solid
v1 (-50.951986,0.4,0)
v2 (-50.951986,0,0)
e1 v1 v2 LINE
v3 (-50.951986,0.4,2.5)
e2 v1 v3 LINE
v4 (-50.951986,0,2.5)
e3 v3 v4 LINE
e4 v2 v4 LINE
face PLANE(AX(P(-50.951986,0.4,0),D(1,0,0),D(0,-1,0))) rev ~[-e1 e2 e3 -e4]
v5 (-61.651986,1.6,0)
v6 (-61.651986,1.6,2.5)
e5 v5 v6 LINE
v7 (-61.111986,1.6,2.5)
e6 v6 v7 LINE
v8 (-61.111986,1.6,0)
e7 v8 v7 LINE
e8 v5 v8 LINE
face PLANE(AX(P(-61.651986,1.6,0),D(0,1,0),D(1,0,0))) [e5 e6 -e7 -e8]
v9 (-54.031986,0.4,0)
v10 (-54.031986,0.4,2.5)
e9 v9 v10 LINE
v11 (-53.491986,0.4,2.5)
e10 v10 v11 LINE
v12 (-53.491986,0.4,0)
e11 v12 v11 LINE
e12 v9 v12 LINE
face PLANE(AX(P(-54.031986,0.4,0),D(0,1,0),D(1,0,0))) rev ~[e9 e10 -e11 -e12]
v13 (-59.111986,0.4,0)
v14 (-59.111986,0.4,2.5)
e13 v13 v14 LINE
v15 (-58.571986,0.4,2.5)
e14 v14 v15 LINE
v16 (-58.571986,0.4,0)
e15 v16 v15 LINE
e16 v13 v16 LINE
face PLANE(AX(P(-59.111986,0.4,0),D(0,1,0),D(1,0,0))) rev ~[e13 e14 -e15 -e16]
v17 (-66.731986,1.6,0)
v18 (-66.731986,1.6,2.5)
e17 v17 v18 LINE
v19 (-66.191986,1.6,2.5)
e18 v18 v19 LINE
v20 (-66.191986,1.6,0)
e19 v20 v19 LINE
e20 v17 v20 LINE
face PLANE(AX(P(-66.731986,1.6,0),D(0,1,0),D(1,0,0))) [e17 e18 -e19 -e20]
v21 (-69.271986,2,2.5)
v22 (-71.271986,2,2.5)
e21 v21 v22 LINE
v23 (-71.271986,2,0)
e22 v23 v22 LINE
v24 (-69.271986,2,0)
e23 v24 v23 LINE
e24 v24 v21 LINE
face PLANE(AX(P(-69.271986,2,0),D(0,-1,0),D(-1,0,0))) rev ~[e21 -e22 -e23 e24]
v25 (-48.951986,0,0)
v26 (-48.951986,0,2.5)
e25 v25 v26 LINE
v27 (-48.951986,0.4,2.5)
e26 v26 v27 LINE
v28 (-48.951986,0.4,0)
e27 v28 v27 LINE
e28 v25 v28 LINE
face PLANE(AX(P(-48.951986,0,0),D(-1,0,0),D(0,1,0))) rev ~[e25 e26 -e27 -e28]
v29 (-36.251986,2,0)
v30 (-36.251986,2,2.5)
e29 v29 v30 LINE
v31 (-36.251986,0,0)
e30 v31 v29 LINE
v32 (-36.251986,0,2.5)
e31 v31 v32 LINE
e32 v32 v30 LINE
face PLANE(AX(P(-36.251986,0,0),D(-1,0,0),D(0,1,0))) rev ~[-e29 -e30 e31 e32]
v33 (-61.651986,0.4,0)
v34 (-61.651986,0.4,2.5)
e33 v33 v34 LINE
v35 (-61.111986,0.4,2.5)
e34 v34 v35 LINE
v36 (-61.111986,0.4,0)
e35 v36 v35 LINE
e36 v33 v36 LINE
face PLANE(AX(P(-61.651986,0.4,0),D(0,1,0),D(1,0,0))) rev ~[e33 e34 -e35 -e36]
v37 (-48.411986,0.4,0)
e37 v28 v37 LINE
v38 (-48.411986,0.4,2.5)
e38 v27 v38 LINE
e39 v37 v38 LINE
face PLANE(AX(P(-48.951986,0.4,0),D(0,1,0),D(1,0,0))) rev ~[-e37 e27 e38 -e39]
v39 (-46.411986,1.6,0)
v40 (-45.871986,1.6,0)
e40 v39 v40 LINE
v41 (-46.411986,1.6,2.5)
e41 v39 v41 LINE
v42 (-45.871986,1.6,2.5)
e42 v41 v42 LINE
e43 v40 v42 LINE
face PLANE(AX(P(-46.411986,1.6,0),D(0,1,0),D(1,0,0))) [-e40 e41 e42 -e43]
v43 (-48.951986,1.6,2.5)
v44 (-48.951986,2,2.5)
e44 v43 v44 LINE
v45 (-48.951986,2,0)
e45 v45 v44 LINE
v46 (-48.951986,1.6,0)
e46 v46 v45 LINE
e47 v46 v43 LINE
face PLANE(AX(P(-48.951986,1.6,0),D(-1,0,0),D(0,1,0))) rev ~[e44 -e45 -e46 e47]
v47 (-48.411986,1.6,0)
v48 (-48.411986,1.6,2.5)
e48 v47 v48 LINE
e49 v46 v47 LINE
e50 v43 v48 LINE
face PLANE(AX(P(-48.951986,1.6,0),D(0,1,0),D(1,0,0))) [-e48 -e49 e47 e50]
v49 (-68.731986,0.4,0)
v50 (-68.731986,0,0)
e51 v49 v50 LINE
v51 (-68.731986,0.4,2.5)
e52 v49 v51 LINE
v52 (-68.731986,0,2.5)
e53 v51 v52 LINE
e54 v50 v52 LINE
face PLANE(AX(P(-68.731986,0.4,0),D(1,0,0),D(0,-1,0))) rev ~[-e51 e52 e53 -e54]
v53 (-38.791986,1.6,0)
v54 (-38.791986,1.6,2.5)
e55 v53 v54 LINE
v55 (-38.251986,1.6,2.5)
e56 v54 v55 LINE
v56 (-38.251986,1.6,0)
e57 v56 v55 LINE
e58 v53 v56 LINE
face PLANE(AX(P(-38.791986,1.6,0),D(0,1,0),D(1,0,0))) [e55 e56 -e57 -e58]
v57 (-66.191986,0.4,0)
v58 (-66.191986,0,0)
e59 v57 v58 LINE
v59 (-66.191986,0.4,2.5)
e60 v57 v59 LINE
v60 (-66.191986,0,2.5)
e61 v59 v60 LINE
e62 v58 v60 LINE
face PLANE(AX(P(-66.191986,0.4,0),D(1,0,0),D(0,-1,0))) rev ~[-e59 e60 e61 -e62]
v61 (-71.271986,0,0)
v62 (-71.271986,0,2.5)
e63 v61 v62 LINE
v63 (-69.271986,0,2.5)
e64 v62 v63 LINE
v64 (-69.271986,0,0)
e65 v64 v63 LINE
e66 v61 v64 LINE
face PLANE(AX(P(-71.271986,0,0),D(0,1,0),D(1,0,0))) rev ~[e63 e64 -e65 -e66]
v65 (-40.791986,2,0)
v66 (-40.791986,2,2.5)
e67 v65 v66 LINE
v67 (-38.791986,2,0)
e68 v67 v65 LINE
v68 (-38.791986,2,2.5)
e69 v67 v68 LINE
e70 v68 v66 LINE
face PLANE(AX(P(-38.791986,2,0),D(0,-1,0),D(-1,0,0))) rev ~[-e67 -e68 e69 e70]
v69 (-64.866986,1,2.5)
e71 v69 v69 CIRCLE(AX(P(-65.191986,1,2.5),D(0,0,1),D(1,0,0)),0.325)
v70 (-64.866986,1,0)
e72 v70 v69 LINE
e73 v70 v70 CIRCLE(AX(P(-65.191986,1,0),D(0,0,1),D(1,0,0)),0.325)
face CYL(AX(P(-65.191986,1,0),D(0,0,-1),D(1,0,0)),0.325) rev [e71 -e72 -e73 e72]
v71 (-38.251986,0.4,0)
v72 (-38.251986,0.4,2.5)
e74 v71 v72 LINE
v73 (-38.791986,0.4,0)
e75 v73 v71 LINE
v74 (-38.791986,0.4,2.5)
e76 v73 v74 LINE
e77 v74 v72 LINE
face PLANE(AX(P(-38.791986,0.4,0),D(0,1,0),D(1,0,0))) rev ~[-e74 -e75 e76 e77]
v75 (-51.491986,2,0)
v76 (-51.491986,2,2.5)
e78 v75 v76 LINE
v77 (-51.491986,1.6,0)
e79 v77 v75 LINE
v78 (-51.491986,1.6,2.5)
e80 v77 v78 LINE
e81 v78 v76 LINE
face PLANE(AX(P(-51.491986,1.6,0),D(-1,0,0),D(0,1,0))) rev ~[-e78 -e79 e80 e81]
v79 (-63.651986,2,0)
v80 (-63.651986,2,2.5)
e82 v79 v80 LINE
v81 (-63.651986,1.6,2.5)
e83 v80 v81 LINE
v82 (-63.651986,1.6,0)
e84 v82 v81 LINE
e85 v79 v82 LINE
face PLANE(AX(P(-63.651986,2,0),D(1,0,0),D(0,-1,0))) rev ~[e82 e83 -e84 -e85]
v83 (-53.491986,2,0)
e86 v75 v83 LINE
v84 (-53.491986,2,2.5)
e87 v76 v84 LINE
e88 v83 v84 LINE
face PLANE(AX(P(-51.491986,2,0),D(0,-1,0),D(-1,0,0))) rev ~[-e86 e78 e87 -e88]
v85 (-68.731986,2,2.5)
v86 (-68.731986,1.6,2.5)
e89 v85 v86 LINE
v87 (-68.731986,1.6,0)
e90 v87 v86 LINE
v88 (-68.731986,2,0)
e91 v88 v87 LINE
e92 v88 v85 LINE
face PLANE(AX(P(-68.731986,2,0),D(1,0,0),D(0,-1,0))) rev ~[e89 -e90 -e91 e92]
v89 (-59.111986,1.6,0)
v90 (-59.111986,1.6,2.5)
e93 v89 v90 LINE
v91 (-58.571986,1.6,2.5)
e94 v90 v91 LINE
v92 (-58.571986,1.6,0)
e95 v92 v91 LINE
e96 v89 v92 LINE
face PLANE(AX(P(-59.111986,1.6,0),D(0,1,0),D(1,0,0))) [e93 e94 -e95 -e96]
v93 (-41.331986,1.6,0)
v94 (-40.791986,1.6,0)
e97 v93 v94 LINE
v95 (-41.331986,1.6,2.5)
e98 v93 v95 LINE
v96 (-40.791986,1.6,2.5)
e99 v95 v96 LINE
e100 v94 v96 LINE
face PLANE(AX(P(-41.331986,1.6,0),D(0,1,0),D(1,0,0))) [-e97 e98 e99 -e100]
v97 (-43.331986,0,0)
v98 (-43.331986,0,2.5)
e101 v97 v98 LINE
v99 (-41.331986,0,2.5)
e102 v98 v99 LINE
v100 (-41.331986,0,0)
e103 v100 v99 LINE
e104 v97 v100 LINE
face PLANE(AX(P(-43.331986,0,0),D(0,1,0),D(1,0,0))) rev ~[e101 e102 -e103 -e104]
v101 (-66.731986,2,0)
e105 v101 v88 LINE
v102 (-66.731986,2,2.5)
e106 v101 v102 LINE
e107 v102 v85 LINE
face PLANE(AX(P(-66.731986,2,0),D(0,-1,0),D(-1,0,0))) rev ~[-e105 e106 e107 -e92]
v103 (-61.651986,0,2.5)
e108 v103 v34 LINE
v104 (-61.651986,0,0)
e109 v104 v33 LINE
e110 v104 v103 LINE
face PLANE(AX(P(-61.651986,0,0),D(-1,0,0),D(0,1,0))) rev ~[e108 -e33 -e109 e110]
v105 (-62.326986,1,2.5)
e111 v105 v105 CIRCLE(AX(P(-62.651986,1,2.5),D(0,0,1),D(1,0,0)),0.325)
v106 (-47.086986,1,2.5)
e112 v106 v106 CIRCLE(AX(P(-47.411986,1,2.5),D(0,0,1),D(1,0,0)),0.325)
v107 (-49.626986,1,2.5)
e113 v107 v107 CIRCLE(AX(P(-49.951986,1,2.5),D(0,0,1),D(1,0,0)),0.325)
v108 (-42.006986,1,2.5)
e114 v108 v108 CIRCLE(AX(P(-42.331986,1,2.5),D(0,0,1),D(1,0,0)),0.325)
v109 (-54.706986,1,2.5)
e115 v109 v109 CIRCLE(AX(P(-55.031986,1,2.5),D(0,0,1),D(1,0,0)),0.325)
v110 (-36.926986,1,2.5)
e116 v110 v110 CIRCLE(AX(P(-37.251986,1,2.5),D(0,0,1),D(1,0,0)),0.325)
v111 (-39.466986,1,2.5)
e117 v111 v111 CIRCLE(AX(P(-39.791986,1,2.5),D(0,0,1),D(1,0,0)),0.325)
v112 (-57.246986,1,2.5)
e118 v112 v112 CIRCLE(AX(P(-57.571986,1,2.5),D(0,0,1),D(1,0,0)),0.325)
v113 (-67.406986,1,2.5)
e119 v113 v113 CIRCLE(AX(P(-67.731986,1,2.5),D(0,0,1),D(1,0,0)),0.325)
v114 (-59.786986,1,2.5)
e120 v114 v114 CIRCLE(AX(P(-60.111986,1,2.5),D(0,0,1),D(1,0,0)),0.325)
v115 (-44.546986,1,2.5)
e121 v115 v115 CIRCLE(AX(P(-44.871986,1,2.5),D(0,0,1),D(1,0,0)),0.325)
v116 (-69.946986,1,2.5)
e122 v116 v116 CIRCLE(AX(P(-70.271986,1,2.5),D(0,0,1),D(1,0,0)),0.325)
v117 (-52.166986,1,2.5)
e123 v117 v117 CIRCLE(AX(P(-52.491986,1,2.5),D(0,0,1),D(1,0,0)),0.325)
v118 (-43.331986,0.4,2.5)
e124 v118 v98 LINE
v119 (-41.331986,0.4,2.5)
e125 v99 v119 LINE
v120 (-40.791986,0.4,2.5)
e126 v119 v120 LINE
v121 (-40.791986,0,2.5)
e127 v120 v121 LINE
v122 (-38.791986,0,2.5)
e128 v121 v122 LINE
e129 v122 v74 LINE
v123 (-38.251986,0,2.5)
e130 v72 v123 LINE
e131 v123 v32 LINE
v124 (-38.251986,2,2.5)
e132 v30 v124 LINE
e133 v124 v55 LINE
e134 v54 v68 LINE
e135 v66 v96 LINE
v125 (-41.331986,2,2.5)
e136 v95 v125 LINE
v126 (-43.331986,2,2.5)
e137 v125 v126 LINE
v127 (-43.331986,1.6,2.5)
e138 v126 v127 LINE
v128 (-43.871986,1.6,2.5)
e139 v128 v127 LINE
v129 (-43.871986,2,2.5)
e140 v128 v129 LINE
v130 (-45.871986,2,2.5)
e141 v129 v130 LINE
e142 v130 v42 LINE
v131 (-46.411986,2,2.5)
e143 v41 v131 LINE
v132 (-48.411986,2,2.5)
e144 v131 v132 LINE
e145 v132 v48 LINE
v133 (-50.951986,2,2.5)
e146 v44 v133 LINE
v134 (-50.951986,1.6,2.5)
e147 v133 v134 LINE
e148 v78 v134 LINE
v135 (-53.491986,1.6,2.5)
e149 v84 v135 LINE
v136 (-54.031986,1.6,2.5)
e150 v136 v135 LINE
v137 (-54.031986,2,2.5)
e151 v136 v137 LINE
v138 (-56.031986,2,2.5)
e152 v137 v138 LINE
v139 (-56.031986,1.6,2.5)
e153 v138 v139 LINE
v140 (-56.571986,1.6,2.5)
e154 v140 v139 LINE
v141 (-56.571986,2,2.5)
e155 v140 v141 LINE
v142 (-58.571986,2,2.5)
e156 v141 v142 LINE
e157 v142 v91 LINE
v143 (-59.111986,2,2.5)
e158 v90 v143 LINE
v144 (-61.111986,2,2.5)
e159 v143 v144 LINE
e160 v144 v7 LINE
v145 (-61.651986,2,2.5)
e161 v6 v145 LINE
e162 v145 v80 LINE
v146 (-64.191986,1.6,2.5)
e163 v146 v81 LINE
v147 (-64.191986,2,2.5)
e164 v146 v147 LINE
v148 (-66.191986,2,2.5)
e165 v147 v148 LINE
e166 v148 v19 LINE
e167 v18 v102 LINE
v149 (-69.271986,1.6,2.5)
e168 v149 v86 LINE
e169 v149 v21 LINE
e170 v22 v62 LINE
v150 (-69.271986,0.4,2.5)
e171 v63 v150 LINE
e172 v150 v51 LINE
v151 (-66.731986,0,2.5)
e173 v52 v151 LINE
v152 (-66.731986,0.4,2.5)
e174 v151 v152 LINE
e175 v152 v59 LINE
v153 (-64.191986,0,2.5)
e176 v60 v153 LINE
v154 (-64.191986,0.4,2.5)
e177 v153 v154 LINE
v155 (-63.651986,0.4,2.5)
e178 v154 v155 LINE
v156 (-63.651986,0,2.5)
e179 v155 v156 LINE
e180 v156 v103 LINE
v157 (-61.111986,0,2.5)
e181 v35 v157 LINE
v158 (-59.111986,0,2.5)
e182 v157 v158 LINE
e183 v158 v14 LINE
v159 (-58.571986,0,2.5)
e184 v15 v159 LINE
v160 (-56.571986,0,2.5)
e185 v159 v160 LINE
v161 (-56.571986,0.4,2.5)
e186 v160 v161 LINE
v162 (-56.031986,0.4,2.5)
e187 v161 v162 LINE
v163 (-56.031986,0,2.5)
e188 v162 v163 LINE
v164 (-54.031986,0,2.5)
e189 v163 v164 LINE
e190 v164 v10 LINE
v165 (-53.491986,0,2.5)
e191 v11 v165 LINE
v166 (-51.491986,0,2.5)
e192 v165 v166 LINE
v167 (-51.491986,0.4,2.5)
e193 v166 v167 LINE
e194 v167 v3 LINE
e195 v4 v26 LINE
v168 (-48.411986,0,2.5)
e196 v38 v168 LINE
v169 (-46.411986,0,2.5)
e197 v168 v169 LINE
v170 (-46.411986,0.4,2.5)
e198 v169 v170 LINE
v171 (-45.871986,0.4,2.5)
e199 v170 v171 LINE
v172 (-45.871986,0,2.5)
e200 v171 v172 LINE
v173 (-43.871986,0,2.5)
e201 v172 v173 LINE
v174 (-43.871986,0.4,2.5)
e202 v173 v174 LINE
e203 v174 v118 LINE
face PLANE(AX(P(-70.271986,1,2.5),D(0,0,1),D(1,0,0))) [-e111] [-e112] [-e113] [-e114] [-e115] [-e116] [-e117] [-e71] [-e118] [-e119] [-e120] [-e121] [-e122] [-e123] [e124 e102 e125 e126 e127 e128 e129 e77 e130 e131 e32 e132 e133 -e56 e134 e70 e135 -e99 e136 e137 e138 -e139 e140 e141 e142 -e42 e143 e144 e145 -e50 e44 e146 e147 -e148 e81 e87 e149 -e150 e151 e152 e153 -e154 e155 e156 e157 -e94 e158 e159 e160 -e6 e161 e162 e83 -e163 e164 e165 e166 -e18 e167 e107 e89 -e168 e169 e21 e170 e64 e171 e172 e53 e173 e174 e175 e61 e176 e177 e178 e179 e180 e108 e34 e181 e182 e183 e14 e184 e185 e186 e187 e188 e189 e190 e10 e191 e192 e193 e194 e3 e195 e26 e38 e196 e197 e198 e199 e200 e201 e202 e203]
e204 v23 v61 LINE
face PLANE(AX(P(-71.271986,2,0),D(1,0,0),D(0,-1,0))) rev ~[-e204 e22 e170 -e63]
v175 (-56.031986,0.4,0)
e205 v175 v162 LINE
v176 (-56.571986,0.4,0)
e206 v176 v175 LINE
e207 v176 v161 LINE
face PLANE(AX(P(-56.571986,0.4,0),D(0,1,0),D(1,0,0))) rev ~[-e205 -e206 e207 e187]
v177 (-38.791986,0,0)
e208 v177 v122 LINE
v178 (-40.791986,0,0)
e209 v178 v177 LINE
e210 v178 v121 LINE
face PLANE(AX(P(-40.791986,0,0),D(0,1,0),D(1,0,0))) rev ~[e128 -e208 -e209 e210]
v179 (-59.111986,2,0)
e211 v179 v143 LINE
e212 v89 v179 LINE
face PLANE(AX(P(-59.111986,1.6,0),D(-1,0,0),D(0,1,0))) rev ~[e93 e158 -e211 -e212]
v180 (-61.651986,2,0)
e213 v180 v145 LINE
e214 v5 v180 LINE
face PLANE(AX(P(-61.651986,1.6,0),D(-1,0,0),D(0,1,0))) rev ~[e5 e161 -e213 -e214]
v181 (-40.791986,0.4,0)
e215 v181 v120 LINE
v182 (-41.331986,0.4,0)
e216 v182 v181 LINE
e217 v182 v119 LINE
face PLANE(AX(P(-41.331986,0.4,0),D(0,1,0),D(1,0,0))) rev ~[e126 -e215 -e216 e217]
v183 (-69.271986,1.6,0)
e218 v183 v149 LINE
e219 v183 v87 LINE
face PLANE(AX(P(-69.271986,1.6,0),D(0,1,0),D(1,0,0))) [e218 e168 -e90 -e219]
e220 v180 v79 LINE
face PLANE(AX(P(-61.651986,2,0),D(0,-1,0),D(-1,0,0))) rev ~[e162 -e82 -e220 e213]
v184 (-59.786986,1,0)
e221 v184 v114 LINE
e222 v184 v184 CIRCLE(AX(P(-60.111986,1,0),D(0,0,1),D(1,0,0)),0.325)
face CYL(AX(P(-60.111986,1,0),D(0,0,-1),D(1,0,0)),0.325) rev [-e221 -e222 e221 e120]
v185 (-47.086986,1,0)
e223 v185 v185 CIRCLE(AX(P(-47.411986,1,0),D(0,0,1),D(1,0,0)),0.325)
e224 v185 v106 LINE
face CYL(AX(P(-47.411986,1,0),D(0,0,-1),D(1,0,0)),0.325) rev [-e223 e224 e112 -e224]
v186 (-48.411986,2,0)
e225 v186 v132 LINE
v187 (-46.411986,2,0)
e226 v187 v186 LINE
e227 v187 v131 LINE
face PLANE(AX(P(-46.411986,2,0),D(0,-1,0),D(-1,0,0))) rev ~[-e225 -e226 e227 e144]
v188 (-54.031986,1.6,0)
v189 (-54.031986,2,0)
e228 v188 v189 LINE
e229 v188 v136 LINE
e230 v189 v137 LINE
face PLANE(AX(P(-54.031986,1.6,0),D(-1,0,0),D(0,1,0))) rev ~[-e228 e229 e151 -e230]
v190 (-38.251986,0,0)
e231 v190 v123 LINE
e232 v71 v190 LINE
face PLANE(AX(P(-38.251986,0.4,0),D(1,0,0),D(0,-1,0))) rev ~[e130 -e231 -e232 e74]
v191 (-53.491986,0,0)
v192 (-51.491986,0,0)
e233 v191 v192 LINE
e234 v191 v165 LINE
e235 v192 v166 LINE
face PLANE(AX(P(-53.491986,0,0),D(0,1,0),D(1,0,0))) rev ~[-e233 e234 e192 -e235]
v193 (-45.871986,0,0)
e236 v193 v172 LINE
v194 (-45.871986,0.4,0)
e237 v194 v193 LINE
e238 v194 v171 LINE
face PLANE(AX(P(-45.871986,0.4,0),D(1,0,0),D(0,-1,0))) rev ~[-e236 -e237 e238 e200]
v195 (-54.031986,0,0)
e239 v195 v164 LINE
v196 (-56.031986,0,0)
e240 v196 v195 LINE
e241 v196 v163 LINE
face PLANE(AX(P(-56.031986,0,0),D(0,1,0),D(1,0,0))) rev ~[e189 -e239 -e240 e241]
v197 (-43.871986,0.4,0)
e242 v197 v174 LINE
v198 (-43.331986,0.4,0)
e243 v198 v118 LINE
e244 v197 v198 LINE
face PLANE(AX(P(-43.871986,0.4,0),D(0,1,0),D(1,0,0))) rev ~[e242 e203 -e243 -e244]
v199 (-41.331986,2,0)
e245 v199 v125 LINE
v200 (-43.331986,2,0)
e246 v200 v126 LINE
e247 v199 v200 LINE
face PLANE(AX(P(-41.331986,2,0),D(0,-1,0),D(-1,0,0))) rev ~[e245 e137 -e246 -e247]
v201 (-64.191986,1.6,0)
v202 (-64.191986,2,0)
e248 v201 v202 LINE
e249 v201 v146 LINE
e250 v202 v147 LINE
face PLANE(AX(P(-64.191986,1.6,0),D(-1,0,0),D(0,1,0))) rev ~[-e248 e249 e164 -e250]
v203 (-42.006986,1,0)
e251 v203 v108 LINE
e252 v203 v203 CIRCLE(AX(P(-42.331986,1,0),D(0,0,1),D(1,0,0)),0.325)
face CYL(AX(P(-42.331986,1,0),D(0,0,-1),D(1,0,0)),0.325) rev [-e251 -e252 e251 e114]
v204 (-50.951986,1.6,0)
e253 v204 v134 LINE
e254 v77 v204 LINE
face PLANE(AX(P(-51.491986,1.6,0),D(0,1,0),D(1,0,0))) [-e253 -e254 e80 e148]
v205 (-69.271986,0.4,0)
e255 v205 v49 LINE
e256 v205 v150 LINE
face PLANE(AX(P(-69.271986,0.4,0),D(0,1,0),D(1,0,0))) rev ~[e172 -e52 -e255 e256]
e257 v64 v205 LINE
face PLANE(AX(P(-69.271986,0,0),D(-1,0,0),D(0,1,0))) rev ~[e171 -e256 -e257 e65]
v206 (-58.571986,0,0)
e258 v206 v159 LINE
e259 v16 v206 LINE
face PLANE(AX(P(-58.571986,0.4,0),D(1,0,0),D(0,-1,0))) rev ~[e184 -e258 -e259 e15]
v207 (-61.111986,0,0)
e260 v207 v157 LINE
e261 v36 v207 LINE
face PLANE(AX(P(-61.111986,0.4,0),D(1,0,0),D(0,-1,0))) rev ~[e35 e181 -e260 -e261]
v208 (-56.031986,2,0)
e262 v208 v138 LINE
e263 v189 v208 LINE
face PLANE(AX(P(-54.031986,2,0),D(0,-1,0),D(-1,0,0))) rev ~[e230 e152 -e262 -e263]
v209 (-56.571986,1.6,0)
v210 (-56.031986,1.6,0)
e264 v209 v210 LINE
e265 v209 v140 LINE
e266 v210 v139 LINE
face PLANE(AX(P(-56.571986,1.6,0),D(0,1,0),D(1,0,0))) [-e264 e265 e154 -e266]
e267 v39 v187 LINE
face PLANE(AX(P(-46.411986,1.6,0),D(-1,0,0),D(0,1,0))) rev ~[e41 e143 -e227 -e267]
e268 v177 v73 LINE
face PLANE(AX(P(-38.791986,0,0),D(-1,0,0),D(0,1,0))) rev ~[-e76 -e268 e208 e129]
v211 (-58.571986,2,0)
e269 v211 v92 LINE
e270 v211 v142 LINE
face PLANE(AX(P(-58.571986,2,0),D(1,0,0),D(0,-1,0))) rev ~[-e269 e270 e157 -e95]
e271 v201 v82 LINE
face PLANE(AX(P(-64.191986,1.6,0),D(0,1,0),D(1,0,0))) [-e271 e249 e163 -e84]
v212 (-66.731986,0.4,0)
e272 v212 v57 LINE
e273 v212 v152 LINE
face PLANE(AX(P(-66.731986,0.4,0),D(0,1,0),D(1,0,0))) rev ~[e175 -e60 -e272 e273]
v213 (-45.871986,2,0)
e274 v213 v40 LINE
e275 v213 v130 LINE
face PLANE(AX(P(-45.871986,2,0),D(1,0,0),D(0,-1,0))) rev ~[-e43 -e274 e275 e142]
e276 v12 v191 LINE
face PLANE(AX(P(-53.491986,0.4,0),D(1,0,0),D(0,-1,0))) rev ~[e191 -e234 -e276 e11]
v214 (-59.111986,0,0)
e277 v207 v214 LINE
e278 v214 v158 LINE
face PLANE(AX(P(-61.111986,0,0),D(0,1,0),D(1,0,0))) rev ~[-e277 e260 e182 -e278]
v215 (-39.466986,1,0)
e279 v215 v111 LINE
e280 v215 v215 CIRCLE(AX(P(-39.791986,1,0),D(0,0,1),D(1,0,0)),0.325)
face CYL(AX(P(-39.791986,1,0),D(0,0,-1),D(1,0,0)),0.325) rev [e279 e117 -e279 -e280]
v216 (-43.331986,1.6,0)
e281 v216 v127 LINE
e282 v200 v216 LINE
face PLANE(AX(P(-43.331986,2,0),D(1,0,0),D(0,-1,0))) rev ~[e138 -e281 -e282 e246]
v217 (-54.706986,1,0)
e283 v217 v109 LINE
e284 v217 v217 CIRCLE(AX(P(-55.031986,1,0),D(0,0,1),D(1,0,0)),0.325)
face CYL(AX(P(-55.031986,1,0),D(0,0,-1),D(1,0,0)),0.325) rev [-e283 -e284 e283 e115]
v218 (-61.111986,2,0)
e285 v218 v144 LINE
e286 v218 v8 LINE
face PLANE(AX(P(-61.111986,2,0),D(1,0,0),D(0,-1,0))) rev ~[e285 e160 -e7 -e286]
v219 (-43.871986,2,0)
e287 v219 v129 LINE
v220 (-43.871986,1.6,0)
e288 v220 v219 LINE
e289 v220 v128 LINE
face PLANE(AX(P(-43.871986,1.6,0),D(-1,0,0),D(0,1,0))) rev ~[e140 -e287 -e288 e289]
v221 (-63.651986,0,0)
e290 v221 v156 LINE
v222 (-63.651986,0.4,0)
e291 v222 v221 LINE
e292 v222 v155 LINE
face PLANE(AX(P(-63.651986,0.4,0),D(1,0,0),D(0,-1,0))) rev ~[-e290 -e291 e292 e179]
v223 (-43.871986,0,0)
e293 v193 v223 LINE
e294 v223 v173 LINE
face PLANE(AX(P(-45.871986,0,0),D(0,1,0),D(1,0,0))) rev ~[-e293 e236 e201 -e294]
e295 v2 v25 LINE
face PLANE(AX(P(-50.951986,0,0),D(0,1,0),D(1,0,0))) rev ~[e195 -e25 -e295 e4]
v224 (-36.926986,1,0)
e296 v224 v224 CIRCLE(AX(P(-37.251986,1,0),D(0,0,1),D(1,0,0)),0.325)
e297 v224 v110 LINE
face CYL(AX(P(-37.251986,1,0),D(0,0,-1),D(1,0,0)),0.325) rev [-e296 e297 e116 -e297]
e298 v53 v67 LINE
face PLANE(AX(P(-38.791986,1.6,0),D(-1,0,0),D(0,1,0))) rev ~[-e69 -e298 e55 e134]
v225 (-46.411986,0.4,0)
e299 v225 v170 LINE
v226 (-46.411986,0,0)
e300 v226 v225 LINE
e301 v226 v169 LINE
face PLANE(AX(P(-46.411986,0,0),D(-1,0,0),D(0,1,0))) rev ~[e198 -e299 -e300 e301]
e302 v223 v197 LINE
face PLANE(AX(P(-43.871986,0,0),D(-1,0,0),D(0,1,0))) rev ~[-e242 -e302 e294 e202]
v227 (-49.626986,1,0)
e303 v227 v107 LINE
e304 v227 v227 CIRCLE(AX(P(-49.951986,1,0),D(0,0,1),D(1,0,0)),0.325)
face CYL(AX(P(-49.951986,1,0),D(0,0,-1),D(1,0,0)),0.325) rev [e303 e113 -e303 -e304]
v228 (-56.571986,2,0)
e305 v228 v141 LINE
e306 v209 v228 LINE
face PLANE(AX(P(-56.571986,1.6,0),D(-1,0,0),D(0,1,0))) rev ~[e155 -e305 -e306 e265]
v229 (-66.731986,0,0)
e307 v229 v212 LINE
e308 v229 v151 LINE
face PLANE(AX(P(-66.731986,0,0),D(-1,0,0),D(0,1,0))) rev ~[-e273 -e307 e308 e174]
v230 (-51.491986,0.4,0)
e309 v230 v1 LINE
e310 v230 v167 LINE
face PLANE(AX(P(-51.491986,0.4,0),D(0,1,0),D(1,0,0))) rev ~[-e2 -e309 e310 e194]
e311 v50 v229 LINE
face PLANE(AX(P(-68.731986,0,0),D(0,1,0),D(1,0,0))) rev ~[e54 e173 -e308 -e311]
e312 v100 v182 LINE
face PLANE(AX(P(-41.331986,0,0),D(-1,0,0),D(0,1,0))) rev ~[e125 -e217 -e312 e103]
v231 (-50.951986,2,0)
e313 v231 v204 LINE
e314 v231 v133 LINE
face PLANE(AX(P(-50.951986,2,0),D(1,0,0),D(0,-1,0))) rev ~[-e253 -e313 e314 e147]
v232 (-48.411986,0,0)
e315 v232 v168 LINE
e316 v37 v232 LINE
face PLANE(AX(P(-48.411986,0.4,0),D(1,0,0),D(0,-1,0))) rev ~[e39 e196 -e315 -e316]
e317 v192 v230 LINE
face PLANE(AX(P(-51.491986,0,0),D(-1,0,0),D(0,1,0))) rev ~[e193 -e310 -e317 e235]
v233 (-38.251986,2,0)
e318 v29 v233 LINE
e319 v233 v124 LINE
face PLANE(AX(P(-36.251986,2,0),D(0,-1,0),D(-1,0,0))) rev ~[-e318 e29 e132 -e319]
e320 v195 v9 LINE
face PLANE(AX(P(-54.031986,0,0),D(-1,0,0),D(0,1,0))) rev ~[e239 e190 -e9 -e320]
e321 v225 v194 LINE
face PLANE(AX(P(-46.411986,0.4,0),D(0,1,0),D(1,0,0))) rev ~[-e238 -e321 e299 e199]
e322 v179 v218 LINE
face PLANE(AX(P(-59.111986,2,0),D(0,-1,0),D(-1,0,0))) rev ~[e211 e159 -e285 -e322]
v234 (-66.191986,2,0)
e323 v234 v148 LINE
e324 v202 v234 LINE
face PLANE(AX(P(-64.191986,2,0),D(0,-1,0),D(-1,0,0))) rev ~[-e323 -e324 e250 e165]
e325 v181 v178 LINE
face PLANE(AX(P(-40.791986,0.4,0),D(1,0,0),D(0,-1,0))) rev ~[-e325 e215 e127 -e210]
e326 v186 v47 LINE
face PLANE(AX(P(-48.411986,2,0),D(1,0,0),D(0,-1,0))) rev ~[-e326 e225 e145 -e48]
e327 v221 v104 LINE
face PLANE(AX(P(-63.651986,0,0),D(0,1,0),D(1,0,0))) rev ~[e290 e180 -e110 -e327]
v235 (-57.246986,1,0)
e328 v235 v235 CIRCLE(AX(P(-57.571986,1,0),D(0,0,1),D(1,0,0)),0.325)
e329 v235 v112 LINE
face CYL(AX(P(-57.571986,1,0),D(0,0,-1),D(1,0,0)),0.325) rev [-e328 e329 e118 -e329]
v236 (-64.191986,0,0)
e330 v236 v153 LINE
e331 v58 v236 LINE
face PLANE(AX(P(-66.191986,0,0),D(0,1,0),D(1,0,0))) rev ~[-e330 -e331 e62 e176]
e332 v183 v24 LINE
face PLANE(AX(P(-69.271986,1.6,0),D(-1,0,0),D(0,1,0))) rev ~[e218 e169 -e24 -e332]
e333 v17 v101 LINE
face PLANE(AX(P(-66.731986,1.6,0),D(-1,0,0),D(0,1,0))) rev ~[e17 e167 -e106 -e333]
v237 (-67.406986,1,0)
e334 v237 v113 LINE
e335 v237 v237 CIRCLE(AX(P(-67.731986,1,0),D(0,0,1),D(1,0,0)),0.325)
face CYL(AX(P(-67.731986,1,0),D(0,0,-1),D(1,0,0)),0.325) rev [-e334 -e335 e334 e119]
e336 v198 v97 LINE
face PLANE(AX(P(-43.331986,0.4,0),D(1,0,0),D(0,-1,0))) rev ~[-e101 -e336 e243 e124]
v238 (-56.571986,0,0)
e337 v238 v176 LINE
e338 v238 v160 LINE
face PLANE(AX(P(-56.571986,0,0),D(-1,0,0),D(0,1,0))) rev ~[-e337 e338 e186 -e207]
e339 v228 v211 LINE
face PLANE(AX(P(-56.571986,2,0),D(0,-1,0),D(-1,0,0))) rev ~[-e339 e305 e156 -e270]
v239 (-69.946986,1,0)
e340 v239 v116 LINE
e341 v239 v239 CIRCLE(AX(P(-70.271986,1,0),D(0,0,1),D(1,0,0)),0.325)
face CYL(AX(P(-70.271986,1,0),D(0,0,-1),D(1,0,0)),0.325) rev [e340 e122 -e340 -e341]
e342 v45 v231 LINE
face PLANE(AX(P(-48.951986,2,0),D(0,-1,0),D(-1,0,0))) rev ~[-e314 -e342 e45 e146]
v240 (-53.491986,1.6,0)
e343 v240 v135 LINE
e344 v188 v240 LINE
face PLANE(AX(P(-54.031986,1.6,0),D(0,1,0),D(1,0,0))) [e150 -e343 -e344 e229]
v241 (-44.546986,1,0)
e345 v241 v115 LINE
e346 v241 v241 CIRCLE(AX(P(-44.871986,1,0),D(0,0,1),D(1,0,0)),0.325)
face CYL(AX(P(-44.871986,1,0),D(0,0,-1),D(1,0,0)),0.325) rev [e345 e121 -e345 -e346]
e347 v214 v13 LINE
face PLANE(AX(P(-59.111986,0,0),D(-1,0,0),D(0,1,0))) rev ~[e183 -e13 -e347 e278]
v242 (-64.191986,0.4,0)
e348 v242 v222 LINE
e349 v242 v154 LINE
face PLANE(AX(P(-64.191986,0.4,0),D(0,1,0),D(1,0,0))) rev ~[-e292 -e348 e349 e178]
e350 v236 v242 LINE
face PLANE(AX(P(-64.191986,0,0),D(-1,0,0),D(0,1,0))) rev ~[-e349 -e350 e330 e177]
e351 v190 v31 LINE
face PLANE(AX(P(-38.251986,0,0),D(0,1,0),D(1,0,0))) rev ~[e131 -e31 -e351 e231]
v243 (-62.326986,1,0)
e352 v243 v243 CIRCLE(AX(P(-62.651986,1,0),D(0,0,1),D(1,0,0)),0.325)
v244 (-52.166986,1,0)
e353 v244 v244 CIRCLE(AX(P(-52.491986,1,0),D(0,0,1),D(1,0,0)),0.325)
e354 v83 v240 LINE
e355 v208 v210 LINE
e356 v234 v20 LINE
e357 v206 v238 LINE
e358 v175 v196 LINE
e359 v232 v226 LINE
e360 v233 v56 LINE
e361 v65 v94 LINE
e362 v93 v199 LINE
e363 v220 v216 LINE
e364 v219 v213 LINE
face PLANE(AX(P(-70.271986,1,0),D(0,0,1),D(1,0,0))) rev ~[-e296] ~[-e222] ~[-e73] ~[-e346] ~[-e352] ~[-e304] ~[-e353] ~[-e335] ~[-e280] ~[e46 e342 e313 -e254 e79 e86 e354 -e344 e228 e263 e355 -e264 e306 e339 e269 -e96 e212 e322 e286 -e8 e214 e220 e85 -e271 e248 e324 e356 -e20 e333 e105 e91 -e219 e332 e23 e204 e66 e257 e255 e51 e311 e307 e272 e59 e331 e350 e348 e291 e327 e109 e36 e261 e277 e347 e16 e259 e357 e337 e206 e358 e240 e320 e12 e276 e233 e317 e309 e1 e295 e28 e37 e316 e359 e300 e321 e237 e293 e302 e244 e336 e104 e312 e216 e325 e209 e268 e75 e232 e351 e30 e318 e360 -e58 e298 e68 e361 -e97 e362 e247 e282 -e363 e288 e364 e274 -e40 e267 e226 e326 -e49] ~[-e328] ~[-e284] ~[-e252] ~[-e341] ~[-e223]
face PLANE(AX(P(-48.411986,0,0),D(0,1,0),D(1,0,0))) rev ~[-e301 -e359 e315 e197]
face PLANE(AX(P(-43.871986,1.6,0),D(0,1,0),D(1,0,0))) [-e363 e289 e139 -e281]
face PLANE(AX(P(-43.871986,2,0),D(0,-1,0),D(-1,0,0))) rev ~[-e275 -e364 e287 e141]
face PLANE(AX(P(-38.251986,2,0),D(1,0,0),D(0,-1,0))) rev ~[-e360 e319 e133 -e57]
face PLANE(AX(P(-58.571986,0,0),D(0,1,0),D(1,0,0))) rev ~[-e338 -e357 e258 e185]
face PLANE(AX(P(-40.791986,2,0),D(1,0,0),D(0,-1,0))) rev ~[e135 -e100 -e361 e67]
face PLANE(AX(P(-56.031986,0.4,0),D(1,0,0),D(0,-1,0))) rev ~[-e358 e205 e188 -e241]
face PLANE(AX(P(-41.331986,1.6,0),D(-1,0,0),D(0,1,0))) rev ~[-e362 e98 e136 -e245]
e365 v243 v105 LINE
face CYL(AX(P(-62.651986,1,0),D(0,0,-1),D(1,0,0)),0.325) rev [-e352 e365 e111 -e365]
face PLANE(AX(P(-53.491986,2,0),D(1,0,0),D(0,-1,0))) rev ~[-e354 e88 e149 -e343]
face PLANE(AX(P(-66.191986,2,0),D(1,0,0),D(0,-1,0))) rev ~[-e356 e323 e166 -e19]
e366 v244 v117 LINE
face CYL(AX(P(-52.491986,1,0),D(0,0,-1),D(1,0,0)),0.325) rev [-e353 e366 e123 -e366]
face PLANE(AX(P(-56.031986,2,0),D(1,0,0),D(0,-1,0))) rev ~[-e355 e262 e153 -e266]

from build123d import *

# Parameters (mm, degrees)
F0_R     = 0.325
F0_W     = 0.54
F0_H     = 1.2
F1_DEPTH = 2.5


with BuildPart() as f1:
    # F0 (on Top) → F1 (new body)
    with BuildSketch(Plane.XY):
        Polygon((-71.271986, 0), (-69.271986, 0), (-69.271986, 0.4), (-69.271986, 1.6), (-69.271986, 2), (-71.271986, 2), align=None)
        with Locations((-70.271986, 1)):
            Circle(F0_R, mode=Mode.SUBTRACT)
        with Locations((-69.001986, 1)):
            Rectangle(F0_W, F0_H)
        Polygon((-68.731986, 1.6), (-68.731986, 0.4), (-68.731986, 0), (-66.731986, 0), (-66.731986, 0.4), (-66.731986, 1.6), (-66.731986, 2), (-68.731986, 2), align=None)
        with Locations((-67.731986, 1)):
            Circle(F0_R, mode=Mode.SUBTRACT)
        with Locations((-66.461986, 1)):
            Rectangle(F0_W, F0_H)
        Polygon((-66.191986, 1.6), (-66.191986, 0.4), (-66.191986, 0), (-64.191986, 0), (-64.191986, 0.4), (-64.191986, 1.6), (-64.191986, 2), (-66.191986, 2), align=None)
        with Locations((-65.191986, 1)):
            Circle(F0_R, mode=Mode.SUBTRACT)
        with Locations((-63.921986, 1)):
            Rectangle(F0_W, F0_H)
        Polygon((-63.651986, 1.6), (-63.651986, 0.4), (-63.651986, 0), (-61.651986, 0), (-61.651986, 0.4), (-61.651986, 1.6), (-61.651986, 2), (-63.651986, 2), align=None)
        with Locations((-62.651986, 1)):
            Circle(F0_R, mode=Mode.SUBTRACT)
        with Locations((-61.381986, 1)):
            Rectangle(F0_W, F0_H)
        Polygon((-61.111986, 1.6), (-61.111986, 0.4), (-61.111986, 0), (-59.111986, 0), (-59.111986, 0.4), (-59.111986, 1.6), (-59.111986, 2), (-61.111986, 2), align=None)
        with Locations((-60.111986, 1)):
            Circle(F0_R, mode=Mode.SUBTRACT)
        with Locations((-58.841986, 1)):
            Rectangle(F0_W, F0_H)
        Polygon((-58.571986, 1.6), (-58.571986, 0.4), (-58.571986, 0), (-56.571986, 0), (-56.571986, 0.4), (-56.571986, 1.6), (-56.571986, 2), (-58.571986, 2), align=None)
        with Locations((-57.571986, 1)):
            Circle(F0_R, mode=Mode.SUBTRACT)
        with Locations((-56.301986, 1)):
            Rectangle(F0_W, F0_H)
        Polygon((-56.031986, 1.6), (-56.031986, 0.4), (-56.031986, 0), (-54.031986, 0), (-54.031986, 0.4), (-54.031986, 1.6), (-54.031986, 2), (-56.031986, 2), align=None)
        with Locations((-55.031986, 1)):
            Circle(F0_R, mode=Mode.SUBTRACT)
        with Locations((-53.761986, 1)):
            Rectangle(F0_W, F0_H)
        Polygon((-53.491986, 1.6), (-53.491986, 0.4), (-53.491986, 0), (-51.491986, 0), (-51.491986, 0.4), (-51.491986, 1.6), (-51.491986, 2), (-53.491986, 2), align=None)
        with Locations((-52.491986, 1)):
            Circle(F0_R, mode=Mode.SUBTRACT)
        with Locations((-51.221986, 1)):
            Rectangle(F0_W, F0_H)
        Polygon((-50.951986, 1.6), (-50.951986, 0.4), (-50.951986, 0), (-48.951986, 0), (-48.951986, 0.4), (-48.951986, 1.6), (-48.951986, 2), (-50.951986, 2), align=None)
        with Locations((-49.951986, 1)):
            Circle(F0_R, mode=Mode.SUBTRACT)
        with Locations((-48.681986, 1)):
            Rectangle(F0_W, F0_H)
        Polygon((-48.411986, 1.6), (-48.411986, 0.4), (-48.411986, 0), (-46.411986, 0), (-46.411986, 0.4), (-46.411986, 1.6), (-46.411986, 2), (-48.411986, 2), align=None)
        with Locations((-47.411986, 1)):
            Circle(F0_R, mode=Mode.SUBTRACT)
        with Locations((-46.141986, 1)):
            Rectangle(F0_W, F0_H)
        Polygon((-45.871986, 1.6), (-45.871986, 0.4), (-45.871986, 0), (-43.871986, 0), (-43.871986, 0.4), (-43.871986, 1.6), (-43.871986, 2), (-45.871986, 2), align=None)
        with Locations((-44.871986, 1)):
            Circle(F0_R, mode=Mode.SUBTRACT)
        with Locations((-43.601986, 1)):
            Rectangle(F0_W, F0_H)
        Polygon((-43.331986, 1.6), (-43.331986, 0.4), (-43.331986, 0), (-41.331986, 0), (-41.331986, 0.4), (-41.331986, 1.6), (-41.331986, 2), (-43.331986, 2), align=None)
        with Locations((-42.331986, 1)):
            Circle(F0_R, mode=Mode.SUBTRACT)
        with Locations((-41.061986, 1)):
            Rectangle(F0_W, F0_H)
        Polygon((-40.791986, 1.6), (-40.791986, 0.4), (-40.791986, 0), (-38.791986, 0), (-38.791986, 0.4), (-38.791986, 1.6), (-38.791986, 2), (-40.791986, 2), align=None)
        with Locations((-39.791986, 1)):
            Circle(F0_R, mode=Mode.SUBTRACT)
        with Locations((-38.521986, 1)):
            Rectangle(F0_W, F0_H)
        Polygon((-38.251986, 1.6), (-38.251986, 0.4), (-38.251986, 0), (-36.251986, 0), (-36.251986, 0.4), (-36.251986, 1.6), (-36.251986, 2), (-38.251986, 2), align=None)
        with Locations((-37.251986, 1)):
            Circle(F0_R, mode=Mode.SUBTRACT)
    extrude(amount=F1_DEPTH)


solid = f1.part
